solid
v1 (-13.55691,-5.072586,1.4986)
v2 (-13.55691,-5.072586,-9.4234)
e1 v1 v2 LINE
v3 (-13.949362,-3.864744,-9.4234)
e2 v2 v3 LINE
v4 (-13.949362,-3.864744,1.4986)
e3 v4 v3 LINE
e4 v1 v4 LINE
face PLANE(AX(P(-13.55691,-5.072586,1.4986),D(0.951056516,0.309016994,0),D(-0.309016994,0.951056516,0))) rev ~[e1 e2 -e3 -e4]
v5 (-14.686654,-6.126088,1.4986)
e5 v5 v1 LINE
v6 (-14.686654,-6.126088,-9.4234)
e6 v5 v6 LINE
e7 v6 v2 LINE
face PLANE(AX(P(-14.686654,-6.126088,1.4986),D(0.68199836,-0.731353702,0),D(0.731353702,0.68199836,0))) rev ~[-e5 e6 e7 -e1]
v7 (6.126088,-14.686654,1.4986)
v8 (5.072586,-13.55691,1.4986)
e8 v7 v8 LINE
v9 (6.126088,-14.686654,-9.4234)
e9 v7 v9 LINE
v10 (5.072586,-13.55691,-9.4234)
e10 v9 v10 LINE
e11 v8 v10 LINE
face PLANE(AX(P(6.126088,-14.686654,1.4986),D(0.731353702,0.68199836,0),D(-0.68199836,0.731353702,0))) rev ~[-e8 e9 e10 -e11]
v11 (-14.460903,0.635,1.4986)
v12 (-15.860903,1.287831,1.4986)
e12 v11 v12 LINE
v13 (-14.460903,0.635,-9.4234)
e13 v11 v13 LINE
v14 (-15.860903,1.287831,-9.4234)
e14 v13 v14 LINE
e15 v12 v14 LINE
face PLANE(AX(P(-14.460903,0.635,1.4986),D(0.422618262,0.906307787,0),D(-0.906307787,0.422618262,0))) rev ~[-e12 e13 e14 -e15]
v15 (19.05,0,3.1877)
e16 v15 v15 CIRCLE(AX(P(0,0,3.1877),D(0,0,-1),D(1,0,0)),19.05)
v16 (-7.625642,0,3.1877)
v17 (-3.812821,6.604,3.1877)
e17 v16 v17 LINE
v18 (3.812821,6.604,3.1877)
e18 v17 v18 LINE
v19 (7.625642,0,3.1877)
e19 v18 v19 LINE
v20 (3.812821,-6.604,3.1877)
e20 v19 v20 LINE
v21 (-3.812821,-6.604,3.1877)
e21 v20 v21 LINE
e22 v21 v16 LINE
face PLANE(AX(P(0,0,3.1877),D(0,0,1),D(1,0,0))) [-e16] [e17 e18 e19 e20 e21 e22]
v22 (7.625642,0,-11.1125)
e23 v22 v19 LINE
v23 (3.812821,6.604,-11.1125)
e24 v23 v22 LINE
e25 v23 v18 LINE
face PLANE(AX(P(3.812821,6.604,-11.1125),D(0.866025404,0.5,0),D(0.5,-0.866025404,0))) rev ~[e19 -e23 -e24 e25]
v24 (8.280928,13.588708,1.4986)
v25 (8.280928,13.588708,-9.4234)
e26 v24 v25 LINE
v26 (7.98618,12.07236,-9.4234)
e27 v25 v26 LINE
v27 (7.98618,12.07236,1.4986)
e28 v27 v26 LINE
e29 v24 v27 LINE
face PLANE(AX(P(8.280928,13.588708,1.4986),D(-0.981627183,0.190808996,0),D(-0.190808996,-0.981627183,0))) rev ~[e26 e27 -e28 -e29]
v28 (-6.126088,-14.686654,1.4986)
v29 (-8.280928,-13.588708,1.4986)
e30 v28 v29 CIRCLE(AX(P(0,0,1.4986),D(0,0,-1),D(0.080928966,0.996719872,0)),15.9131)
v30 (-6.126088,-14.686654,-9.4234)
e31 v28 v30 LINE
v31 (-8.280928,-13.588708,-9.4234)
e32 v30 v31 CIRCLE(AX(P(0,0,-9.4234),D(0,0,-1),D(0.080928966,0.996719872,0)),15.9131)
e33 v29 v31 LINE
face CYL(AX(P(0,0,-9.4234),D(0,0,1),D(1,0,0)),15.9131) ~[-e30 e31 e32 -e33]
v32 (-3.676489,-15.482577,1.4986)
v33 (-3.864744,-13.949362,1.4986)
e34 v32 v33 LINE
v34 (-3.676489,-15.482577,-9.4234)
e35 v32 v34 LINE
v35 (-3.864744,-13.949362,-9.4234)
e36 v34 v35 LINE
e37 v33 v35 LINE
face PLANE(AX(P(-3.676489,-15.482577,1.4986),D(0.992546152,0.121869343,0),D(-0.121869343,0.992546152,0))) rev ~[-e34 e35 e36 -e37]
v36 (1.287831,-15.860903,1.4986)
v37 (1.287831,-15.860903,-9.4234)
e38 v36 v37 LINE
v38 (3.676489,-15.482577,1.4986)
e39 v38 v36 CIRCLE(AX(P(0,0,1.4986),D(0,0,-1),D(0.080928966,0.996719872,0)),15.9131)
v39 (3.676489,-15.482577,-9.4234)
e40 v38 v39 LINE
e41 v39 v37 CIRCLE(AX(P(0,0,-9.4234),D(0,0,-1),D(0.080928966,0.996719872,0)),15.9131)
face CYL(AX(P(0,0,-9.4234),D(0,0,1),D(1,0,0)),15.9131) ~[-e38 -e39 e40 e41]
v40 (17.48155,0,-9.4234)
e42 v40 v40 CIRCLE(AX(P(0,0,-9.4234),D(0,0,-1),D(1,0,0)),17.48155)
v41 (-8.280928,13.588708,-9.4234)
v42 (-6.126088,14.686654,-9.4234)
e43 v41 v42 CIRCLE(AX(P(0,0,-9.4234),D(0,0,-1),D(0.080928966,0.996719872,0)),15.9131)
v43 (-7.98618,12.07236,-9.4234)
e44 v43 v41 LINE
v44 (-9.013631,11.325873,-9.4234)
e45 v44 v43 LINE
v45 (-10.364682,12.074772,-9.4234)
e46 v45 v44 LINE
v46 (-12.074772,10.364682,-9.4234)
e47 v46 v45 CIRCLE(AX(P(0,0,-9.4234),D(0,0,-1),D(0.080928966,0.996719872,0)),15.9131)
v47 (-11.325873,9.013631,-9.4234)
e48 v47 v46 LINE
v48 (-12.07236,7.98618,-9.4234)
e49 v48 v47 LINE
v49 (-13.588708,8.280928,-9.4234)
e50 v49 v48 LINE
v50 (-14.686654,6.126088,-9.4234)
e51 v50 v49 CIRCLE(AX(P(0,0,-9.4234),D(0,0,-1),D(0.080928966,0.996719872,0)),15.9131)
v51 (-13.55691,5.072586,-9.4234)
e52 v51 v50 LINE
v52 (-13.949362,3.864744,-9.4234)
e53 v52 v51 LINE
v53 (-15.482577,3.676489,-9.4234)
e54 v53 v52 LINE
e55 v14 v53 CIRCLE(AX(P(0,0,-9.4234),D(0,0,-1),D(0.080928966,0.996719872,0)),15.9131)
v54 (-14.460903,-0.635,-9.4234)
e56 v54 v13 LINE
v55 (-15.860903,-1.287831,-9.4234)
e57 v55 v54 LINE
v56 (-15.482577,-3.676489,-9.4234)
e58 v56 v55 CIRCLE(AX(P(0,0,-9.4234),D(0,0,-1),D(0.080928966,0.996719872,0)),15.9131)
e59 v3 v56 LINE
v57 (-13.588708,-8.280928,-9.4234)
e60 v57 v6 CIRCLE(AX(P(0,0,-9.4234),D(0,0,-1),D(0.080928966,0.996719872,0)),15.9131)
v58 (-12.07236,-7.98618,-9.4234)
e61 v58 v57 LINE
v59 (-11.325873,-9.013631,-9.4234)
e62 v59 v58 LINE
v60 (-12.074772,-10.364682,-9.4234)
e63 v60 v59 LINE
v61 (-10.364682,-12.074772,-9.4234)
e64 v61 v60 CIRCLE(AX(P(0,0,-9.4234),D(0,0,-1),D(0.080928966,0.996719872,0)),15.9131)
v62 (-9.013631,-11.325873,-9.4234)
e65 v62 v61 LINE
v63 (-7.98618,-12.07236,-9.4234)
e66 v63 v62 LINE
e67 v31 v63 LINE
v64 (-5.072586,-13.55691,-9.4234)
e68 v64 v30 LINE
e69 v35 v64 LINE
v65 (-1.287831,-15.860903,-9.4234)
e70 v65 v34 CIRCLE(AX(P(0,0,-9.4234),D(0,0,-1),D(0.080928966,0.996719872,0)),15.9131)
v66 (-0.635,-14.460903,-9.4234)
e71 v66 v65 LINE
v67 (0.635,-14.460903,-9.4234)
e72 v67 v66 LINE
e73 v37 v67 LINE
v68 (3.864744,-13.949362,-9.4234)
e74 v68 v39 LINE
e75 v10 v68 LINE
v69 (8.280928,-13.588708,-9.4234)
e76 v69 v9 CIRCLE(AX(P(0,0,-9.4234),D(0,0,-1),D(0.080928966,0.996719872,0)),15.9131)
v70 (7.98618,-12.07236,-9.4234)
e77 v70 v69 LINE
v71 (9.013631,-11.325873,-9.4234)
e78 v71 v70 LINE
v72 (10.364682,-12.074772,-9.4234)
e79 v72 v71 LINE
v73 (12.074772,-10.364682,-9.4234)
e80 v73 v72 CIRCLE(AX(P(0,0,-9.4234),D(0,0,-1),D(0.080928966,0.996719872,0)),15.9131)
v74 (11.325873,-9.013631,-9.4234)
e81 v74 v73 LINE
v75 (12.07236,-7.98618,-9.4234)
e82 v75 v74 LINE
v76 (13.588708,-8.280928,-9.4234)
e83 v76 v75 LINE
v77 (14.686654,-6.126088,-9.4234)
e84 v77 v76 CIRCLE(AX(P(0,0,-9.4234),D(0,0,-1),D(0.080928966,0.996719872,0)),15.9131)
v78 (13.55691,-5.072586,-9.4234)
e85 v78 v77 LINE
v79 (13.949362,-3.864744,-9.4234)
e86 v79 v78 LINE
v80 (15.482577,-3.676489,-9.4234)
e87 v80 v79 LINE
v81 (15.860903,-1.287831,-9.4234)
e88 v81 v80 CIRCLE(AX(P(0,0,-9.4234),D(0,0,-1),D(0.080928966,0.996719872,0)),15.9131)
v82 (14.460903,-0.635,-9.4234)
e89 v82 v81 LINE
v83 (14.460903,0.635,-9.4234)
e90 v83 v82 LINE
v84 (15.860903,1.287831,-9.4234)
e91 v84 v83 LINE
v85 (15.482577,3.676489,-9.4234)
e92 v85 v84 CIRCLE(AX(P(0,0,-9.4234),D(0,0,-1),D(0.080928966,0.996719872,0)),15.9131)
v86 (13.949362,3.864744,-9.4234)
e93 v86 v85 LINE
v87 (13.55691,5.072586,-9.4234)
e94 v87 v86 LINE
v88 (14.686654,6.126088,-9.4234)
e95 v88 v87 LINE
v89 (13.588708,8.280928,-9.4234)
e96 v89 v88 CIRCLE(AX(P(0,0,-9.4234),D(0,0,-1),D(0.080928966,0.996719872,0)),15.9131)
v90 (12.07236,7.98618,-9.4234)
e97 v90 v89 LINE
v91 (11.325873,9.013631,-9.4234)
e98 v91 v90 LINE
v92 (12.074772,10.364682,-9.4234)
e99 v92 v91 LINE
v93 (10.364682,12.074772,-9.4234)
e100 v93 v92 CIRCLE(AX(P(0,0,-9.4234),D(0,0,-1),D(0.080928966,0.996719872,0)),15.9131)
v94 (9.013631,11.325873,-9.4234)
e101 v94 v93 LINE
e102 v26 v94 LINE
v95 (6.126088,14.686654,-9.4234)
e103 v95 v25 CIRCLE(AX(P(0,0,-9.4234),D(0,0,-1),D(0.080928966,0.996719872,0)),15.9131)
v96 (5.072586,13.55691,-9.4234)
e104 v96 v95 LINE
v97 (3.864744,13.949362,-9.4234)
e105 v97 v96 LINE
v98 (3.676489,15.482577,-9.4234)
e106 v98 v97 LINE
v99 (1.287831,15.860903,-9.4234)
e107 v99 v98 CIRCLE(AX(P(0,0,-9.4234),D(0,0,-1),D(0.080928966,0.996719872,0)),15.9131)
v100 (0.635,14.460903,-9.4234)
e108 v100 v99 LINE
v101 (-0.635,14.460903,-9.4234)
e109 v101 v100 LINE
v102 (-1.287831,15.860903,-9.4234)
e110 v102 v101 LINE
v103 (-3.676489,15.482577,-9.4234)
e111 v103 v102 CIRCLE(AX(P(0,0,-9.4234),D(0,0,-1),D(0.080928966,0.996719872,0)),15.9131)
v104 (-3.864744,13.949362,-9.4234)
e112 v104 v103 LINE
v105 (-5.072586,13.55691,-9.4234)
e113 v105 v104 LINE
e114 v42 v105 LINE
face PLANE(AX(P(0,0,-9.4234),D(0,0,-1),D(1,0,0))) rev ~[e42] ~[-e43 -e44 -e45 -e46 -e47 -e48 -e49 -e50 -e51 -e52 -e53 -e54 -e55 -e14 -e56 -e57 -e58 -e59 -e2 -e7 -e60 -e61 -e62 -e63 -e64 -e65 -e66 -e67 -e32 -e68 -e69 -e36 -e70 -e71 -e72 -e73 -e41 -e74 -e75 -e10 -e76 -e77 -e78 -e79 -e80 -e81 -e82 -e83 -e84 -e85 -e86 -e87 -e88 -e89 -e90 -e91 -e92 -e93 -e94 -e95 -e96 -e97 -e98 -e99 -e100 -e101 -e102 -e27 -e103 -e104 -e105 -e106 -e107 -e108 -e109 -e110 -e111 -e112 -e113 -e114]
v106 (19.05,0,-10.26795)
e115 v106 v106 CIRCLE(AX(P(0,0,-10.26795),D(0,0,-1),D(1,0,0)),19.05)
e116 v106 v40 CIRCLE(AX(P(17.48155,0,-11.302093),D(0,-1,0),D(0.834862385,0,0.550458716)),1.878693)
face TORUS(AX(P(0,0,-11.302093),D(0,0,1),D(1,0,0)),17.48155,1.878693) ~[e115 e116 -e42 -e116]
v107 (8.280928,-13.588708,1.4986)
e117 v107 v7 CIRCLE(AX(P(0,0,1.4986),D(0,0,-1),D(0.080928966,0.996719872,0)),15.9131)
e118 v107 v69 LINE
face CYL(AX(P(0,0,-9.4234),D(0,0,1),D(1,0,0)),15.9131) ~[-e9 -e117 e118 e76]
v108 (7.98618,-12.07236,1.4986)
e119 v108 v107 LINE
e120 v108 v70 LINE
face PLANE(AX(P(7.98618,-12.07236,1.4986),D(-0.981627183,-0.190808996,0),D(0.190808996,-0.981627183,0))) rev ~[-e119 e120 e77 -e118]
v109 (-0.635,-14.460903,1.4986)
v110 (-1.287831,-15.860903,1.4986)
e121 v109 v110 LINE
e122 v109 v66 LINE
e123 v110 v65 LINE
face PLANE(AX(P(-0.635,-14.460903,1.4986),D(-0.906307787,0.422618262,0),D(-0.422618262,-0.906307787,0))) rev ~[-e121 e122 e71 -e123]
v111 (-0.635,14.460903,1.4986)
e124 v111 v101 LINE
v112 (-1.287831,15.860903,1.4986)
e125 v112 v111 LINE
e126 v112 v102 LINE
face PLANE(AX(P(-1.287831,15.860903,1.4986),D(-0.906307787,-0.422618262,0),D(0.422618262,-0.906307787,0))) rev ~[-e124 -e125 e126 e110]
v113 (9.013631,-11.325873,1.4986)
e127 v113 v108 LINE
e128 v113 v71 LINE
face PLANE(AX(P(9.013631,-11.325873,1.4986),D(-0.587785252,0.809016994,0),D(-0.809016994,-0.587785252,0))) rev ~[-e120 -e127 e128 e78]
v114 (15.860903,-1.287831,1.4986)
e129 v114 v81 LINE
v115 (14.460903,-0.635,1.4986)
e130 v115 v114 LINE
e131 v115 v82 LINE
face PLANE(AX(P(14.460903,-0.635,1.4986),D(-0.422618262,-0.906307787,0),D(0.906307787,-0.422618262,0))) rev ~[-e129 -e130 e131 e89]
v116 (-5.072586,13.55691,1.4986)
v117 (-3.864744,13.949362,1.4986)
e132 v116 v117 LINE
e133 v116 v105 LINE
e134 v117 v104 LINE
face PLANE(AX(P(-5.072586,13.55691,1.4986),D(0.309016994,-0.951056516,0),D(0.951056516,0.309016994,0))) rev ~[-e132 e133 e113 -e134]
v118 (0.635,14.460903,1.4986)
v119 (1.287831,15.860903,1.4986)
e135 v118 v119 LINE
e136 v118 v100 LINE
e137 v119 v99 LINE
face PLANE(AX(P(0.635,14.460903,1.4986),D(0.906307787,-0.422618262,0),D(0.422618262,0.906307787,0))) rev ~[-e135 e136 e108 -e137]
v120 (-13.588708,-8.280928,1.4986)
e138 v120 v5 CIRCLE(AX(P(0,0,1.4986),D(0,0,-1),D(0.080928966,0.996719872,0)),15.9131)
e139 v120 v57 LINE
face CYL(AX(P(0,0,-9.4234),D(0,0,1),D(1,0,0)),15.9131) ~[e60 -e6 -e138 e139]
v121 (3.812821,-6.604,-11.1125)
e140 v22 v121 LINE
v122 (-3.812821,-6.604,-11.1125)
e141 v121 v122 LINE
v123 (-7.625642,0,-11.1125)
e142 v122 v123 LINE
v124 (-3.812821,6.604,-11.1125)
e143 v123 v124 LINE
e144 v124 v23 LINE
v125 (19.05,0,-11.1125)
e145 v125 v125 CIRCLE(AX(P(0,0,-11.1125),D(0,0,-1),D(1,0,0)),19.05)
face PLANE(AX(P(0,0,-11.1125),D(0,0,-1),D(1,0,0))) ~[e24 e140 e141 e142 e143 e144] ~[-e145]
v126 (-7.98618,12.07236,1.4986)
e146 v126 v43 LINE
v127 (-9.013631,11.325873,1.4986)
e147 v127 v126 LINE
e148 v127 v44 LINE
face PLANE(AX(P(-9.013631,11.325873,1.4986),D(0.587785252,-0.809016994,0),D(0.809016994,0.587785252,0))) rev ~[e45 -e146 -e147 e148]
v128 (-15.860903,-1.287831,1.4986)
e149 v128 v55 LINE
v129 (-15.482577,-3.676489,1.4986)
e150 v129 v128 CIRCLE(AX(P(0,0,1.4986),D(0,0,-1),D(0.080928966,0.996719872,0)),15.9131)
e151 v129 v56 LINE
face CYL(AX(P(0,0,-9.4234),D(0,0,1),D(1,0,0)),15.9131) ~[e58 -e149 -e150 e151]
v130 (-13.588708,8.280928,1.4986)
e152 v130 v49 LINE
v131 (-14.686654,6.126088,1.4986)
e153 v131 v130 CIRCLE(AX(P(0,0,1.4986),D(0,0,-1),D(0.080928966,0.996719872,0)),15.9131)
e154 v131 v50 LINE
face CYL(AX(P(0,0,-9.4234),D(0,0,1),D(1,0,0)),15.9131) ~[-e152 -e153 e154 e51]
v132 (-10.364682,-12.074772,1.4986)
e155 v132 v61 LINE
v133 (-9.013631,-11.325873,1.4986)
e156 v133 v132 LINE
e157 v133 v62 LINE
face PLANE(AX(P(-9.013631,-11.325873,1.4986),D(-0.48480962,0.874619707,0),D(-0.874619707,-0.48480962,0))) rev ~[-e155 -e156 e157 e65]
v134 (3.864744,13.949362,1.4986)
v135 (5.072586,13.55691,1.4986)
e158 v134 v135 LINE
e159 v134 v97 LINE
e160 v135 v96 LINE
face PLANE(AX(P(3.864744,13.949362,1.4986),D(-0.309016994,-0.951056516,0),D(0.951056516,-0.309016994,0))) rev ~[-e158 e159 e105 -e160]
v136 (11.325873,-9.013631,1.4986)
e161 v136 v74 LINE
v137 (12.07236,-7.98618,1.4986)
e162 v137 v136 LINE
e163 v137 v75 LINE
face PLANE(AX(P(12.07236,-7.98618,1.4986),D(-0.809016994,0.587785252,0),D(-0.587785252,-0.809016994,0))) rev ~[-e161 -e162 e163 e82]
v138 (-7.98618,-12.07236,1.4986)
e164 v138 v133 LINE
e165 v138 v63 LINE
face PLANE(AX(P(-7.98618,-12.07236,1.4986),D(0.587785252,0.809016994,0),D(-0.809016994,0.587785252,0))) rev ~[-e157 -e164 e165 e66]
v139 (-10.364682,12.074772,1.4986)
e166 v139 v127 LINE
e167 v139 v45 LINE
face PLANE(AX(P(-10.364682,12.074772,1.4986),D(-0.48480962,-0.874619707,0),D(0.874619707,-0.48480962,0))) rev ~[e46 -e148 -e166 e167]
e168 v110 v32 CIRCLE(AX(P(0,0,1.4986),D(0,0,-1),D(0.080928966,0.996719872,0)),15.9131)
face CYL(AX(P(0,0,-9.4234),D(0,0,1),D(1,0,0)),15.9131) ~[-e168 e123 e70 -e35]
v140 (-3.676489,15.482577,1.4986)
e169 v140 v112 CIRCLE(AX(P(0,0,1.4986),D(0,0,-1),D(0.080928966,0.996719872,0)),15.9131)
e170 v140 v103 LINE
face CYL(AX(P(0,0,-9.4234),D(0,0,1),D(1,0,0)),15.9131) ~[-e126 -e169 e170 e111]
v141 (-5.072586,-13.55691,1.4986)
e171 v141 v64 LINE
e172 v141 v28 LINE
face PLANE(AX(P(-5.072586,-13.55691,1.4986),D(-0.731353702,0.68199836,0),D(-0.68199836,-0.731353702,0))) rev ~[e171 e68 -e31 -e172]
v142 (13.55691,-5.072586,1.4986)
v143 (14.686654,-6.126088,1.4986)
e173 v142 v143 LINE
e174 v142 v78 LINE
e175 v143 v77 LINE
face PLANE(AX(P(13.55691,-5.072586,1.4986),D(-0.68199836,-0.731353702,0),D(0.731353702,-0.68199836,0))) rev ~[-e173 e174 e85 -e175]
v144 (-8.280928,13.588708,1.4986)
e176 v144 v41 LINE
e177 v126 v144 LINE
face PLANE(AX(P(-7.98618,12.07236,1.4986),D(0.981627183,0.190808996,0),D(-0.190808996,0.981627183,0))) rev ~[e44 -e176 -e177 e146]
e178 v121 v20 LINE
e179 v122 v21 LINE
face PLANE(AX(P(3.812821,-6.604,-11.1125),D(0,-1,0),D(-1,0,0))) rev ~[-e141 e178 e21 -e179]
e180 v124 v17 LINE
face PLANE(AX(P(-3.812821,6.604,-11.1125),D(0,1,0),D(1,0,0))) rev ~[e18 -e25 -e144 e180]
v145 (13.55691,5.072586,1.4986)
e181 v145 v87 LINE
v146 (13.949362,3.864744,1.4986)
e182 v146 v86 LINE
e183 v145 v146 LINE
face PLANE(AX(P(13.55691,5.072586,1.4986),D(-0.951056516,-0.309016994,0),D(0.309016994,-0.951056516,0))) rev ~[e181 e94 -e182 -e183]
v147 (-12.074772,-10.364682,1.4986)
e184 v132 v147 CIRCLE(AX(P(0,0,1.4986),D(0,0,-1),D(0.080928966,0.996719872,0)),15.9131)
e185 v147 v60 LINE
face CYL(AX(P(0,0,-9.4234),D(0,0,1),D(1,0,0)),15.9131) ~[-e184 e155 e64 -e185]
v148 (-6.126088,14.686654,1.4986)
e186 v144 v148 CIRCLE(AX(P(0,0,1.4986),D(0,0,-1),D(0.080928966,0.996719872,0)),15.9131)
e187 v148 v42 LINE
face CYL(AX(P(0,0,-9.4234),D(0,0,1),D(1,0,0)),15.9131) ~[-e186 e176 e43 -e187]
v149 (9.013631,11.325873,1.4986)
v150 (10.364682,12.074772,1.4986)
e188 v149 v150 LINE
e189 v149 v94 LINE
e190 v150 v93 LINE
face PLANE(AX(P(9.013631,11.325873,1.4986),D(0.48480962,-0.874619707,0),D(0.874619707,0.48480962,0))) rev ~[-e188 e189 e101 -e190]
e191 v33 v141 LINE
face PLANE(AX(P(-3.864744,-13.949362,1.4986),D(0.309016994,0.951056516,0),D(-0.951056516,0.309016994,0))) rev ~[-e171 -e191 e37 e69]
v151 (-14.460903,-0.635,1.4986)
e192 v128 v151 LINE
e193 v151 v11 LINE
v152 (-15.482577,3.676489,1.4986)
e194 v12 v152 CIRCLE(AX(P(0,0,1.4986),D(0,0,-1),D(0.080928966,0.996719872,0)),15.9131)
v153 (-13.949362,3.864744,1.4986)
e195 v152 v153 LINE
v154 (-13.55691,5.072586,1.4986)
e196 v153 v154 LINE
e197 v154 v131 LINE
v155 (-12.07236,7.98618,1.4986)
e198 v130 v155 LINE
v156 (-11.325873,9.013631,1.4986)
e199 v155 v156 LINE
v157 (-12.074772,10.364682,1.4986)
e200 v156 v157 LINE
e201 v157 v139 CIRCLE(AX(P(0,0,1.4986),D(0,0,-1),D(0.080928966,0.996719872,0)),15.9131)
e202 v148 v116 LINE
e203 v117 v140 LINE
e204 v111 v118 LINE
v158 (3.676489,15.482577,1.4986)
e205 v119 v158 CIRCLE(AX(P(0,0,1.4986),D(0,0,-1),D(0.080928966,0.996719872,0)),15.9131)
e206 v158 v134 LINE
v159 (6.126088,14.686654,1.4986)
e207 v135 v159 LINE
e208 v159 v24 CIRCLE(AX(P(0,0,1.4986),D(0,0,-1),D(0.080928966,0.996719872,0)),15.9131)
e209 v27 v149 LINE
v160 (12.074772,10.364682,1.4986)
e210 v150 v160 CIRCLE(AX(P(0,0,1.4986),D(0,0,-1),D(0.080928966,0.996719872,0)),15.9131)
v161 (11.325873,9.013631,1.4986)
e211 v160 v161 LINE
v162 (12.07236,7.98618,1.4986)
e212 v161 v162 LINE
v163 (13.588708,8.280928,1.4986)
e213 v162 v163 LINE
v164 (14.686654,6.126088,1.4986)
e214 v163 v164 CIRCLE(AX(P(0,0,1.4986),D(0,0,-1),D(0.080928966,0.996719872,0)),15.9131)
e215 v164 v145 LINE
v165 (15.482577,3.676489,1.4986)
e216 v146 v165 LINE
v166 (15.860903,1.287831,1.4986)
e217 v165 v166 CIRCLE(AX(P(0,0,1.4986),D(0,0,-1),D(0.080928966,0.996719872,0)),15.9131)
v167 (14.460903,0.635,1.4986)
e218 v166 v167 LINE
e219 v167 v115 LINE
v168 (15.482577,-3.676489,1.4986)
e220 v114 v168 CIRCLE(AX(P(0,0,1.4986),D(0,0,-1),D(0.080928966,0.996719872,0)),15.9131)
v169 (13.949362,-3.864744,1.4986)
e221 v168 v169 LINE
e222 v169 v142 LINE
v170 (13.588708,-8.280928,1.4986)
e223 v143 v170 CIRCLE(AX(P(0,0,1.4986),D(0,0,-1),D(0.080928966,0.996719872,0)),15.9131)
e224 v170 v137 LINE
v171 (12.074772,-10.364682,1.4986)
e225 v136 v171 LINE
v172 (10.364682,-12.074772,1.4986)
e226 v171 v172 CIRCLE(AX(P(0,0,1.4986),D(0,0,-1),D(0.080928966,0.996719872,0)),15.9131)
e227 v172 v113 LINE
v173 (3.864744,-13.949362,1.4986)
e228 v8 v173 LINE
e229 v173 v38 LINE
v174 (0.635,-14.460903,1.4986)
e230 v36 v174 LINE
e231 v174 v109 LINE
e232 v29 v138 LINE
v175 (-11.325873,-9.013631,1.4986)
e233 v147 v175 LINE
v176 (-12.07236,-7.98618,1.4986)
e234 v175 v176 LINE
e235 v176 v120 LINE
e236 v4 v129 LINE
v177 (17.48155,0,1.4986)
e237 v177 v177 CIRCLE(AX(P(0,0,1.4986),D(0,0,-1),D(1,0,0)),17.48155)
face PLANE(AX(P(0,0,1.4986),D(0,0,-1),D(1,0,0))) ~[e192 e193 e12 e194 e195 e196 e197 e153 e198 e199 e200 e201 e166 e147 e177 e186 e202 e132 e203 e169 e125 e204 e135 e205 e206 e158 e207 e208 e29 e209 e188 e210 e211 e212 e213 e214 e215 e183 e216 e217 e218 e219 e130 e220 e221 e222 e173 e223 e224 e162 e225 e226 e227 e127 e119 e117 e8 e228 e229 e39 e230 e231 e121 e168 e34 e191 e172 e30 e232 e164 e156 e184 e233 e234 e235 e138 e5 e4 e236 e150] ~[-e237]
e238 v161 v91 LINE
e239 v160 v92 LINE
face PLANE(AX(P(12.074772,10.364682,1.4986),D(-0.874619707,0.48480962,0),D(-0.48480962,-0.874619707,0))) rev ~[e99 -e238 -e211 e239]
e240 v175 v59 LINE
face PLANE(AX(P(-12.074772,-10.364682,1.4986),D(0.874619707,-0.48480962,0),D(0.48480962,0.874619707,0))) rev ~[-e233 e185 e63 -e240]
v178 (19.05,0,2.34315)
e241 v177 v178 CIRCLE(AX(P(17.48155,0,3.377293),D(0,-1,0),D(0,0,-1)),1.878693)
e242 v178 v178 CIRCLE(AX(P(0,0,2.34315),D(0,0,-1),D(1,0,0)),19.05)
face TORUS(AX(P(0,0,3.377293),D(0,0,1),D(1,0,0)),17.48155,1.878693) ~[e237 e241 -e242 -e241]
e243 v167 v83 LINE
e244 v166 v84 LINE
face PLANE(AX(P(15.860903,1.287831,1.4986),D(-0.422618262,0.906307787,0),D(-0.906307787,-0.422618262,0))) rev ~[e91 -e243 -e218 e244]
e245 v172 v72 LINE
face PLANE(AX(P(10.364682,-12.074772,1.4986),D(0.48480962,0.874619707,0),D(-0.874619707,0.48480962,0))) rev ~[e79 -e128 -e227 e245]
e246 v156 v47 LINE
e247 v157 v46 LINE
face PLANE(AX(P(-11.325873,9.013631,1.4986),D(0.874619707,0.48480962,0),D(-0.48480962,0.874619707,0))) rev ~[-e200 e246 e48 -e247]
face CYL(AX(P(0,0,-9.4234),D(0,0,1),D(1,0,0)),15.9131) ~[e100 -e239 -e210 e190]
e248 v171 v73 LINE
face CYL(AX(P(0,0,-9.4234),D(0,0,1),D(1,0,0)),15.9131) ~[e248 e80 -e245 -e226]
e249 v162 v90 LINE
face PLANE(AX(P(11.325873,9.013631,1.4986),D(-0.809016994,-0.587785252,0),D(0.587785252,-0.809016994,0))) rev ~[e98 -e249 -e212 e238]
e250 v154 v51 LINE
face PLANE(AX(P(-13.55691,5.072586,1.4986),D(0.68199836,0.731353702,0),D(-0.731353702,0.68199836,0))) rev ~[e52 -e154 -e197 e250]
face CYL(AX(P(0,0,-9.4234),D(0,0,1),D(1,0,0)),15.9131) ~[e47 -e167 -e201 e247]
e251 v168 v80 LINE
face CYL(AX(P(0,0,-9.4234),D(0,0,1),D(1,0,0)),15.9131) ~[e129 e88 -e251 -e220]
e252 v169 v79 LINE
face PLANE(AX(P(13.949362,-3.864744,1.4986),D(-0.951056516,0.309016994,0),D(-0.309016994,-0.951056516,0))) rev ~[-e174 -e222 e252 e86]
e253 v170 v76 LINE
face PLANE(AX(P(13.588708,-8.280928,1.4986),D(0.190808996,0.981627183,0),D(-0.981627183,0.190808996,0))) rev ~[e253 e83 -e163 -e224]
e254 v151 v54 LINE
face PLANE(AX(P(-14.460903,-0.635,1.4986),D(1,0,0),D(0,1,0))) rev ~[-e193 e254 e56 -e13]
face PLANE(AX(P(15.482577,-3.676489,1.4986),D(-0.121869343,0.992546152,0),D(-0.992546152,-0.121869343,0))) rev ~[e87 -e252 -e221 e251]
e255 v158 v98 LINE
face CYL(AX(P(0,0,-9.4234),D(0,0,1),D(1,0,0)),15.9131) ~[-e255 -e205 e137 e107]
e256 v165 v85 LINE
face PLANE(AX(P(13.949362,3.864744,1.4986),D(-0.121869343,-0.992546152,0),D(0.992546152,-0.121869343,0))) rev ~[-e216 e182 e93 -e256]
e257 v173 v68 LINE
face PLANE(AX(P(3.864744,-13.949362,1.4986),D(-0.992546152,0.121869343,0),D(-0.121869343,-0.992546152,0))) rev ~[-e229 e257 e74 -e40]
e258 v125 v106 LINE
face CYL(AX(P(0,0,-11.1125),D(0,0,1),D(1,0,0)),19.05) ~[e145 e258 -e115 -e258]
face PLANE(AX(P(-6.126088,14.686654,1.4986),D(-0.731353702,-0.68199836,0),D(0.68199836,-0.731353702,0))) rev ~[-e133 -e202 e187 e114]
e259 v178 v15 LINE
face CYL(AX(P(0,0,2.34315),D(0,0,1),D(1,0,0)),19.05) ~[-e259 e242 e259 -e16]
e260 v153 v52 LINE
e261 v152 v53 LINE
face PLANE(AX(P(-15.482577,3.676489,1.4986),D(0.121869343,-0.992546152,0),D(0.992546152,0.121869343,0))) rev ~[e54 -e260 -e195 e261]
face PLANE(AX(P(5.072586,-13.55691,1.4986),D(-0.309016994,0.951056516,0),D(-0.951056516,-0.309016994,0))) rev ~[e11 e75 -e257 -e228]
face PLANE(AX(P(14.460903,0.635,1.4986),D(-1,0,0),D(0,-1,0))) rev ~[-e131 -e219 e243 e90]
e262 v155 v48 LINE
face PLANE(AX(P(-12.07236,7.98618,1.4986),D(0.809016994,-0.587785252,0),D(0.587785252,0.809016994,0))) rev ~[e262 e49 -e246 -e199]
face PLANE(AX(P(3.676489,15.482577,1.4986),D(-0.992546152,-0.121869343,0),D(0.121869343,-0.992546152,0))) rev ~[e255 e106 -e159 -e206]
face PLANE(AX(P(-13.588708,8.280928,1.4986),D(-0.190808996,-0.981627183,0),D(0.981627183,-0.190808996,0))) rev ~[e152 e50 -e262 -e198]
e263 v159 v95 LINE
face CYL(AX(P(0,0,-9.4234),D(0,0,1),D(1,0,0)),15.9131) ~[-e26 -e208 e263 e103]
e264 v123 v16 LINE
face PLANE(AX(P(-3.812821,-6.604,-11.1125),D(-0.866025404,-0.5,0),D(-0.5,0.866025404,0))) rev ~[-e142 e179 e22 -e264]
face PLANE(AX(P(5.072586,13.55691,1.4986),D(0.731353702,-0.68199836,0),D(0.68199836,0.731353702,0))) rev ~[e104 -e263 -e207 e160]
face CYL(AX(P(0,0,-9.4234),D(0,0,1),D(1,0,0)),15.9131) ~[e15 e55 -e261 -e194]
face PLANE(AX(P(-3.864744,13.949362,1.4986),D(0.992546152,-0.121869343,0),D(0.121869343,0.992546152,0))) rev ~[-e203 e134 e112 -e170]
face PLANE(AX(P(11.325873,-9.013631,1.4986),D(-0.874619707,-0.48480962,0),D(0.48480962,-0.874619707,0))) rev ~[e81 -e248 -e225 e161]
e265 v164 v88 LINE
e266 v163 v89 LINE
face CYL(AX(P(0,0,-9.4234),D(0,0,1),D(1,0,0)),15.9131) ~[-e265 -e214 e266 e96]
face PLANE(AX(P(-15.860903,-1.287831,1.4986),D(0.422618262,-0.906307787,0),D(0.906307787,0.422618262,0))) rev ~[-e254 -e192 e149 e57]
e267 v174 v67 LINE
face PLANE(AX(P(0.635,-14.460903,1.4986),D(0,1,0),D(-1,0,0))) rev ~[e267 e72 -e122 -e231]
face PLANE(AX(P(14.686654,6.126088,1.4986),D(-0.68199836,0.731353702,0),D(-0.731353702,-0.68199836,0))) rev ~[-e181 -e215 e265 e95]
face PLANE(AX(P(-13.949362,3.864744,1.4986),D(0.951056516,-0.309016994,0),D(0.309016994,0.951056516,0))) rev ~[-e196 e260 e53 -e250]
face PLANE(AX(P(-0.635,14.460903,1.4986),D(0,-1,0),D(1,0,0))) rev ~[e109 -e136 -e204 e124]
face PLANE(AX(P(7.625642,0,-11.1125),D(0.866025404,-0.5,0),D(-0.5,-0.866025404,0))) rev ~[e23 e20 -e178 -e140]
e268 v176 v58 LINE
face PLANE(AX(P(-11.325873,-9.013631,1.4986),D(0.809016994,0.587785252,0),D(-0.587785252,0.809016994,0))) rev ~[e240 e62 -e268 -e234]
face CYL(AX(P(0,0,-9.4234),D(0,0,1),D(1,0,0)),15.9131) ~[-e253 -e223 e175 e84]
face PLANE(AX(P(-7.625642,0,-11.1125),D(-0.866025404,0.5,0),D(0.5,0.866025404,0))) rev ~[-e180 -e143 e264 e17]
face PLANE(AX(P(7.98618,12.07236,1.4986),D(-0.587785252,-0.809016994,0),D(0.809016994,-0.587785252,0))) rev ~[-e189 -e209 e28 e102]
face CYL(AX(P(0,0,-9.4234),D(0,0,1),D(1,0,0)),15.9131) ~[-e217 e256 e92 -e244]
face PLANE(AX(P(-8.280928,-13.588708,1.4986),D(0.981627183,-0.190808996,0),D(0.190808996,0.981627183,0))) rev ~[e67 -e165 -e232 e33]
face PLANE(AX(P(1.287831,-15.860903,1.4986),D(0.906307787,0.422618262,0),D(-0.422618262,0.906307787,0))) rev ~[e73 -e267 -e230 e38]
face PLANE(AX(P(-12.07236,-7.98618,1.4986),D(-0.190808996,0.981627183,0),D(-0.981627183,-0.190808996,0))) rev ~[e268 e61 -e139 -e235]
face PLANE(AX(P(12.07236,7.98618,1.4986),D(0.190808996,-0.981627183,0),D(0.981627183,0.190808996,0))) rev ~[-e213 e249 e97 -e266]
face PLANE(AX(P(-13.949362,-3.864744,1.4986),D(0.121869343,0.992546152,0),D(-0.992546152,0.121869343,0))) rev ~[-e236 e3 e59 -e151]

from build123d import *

# Parameters (mm, degrees)
CUT_EXTRUDE1_START = 1.4986
CUT_EXTRUDE1_DEPTH = 10.922
CIRPATTERN1_COUNT  = 20
SKETCH4_R          = 2.38125
CUT_EXTRUDE2_DEPTH = 30.142626104
CUT_EXTRUDE3_DEPTH = 1.7859375
CIRPATTERN2_COUNT  = 2
CIRPATTERN2_ANGLE  = 90
CUT_EXTRUDE4_DEPTH = 35.925000064
SKETCH8_R          = 14.509078941
CUT_EXTRUDE5_DEPTH = 31.500831465


with BuildPart() as part:
    # Sketch2 → Revolve1 (revolve)
    with BuildSketch(Plane(origin=(0, 0, 0), x_dir=(0, 0, -1), z_dir=(1, 0, 0)), mode=Mode.PRIVATE) as revolve1_sk:
        with BuildLine():
            Line((-11.1125, 6.35), (11.1125, 6.35))
            Line((11.1125, 6.35), (11.1125, 19.05))
            Line((11.1125, 19.05), (10.26795, 19.05))
            ThreePointArc((10.26795, 19.05), (9.647958091, 18.372237951), (9.4234, 17.48155))
            Line((9.4234, 17.48155), (9.4234, 15.9131))
            Line((9.4234, 15.9131), (-1.4986, 15.9131))
            Line((-1.4986, 15.9131), (-1.4986, 17.48155))
            ThreePointArc((-1.4986, 17.48155), (-1.723158091, 18.372237951), (-2.34315, 19.05))
            Line((-2.34315, 19.05), (-3.1877, 19.05))
            Line((-3.1877, 19.05), (-3.1877, 11.8999))
            Line((-3.1877, 11.8999), (-11.1125, 11.8999))
            Line((-11.1125, 11.8999), (-11.1125, 6.35))
        make_face()
    revolve(revolve1_sk.sketch.rotate(Axis((0, 0, 11.1125), (0, 0, -1)), 90), axis=Axis((0, 0, 11.1125), (0, 0, -1)))

    # Sketch3 → Cut-Extrude1 (cut)
    with BuildSketch(Plane.XY.offset(CUT_EXTRUDE1_START)):
        with BuildLine():
            Line((-0.635, 14.46090299), (0.635, 14.46090299))
            Line((0.635, 14.46090299), (1.287830721, 15.86090299))
            ThreePointArc((1.287830721, 15.86090299), (0, 15.9131), (-1.287830721, 15.86090299))
            Line((-1.287830721, 15.86090299), (-0.635, 14.46090299))
        make_face()
    cut_extrude1 = extrude(amount=-CUT_EXTRUDE1_DEPTH, mode=Mode.SUBTRACT)

    # CirPattern1: Cut-Extrude1 ×20 about axis
    cirpattern1_axis = Axis((0, 0, 0), (0, 0, 1))
    for i in range(1, CIRPATTERN1_COUNT):
        add(cut_extrude1.rotate(cirpattern1_axis, i * 360 / CIRPATTERN1_COUNT), mode=Mode.SUBTRACT)

    # Sketch4 → Cut-Extrude2 (cut, through all)
    with BuildSketch(Plane(origin=(0, 0, 0), x_dir=(1, 0, 0), z_dir=(0, 1, 0))):
        with Locations(Location((0, -7.1501, 0), (0, 0, 90))):
            Circle(SKETCH4_R)
    cut_extrude2 = extrude(amount=CUT_EXTRUDE2_DEPTH, mode=Mode.SUBTRACT)

    # Sketch5 → Revolve2 (revolve)
    with BuildSketch(Plane.XY.offset(7.1501), mode=Mode.PRIVATE) as revolve2_sk:
        Polygon((1.87325, 11.659213886), (2.38125, 11.151213886), (2.38125, 6.985), (1.74625, 6.35), (0, 6.35), (0, 11.659213886), align=None)
    revolve2 = revolve(revolve2_sk.sketch.rotate(Axis((0, 0, 7.1501), (0, 1, 0)), 90), axis=Axis((0, 0, 7.1501), (0, 1, 0)))

    # Sketch6 → Cut-Extrude3 (cut)
    with BuildSketch(Plane(origin=(0, 11.659213886, 0), x_dir=(1, 0, 0), z_dir=(0, 1, 0))):
        Polygon((0, -5.775284671), (-1.190625, -6.462692336), (-1.190625, -7.837507664), (0, -8.524915329), (1.190625, -7.837507664), (1.190625, -6.462692336), align=None)
    cut_extrude3 = extrude(amount=-CUT_EXTRUDE3_DEPTH, mode=Mode.SUBTRACT)

    # CirPattern2: Cut-Extrude2, Revolve2, Cut-Extrude3 ×2 about axis
    cirpattern2_axis = Axis((0, 0, 0), (0, 0, -1))
    add([cut_extrude2.rotate(cirpattern2_axis, i * CIRPATTERN2_ANGLE / (CIRPATTERN2_COUNT - 1)) for i in range(1, CIRPATTERN2_COUNT)], mode=Mode.SUBTRACT)
    add([revolve2.rotate(cirpattern2_axis, i * CIRPATTERN2_ANGLE / (CIRPATTERN2_COUNT - 1)) for i in range(1, CIRPATTERN2_COUNT)])
    add([cut_extrude3.rotate(cirpattern2_axis, i * CIRPATTERN2_ANGLE / (CIRPATTERN2_COUNT - 1)) for i in range(1, CIRPATTERN2_COUNT)], mode=Mode.SUBTRACT)

    # Sketch7 → Cut-Extrude4 (cut, through all)
    with BuildSketch(Plane(origin=(0, 0, -11.1125), x_dir=(-1, 0, 0), z_dir=(0, 0, -1))):
        Polygon((3.812821178, -6.604), (7.625642355, 0), (3.812821178, 6.604), (-3.812821178, 6.604), (-7.625642355, 0), (-3.812821178, -6.604), align=None)
    extrude(amount=-CUT_EXTRUDE4_DEPTH, mode=Mode.SUBTRACT)

    # Sketch8 → Cut-Extrude5 (cut, through all)
    with BuildSketch(Plane.XY.offset(3.1877)):
        Circle(SKETCH8_R)
    extrude(amount=CUT_EXTRUDE5_DEPTH, mode=Mode.SUBTRACT)


solid = part.part
